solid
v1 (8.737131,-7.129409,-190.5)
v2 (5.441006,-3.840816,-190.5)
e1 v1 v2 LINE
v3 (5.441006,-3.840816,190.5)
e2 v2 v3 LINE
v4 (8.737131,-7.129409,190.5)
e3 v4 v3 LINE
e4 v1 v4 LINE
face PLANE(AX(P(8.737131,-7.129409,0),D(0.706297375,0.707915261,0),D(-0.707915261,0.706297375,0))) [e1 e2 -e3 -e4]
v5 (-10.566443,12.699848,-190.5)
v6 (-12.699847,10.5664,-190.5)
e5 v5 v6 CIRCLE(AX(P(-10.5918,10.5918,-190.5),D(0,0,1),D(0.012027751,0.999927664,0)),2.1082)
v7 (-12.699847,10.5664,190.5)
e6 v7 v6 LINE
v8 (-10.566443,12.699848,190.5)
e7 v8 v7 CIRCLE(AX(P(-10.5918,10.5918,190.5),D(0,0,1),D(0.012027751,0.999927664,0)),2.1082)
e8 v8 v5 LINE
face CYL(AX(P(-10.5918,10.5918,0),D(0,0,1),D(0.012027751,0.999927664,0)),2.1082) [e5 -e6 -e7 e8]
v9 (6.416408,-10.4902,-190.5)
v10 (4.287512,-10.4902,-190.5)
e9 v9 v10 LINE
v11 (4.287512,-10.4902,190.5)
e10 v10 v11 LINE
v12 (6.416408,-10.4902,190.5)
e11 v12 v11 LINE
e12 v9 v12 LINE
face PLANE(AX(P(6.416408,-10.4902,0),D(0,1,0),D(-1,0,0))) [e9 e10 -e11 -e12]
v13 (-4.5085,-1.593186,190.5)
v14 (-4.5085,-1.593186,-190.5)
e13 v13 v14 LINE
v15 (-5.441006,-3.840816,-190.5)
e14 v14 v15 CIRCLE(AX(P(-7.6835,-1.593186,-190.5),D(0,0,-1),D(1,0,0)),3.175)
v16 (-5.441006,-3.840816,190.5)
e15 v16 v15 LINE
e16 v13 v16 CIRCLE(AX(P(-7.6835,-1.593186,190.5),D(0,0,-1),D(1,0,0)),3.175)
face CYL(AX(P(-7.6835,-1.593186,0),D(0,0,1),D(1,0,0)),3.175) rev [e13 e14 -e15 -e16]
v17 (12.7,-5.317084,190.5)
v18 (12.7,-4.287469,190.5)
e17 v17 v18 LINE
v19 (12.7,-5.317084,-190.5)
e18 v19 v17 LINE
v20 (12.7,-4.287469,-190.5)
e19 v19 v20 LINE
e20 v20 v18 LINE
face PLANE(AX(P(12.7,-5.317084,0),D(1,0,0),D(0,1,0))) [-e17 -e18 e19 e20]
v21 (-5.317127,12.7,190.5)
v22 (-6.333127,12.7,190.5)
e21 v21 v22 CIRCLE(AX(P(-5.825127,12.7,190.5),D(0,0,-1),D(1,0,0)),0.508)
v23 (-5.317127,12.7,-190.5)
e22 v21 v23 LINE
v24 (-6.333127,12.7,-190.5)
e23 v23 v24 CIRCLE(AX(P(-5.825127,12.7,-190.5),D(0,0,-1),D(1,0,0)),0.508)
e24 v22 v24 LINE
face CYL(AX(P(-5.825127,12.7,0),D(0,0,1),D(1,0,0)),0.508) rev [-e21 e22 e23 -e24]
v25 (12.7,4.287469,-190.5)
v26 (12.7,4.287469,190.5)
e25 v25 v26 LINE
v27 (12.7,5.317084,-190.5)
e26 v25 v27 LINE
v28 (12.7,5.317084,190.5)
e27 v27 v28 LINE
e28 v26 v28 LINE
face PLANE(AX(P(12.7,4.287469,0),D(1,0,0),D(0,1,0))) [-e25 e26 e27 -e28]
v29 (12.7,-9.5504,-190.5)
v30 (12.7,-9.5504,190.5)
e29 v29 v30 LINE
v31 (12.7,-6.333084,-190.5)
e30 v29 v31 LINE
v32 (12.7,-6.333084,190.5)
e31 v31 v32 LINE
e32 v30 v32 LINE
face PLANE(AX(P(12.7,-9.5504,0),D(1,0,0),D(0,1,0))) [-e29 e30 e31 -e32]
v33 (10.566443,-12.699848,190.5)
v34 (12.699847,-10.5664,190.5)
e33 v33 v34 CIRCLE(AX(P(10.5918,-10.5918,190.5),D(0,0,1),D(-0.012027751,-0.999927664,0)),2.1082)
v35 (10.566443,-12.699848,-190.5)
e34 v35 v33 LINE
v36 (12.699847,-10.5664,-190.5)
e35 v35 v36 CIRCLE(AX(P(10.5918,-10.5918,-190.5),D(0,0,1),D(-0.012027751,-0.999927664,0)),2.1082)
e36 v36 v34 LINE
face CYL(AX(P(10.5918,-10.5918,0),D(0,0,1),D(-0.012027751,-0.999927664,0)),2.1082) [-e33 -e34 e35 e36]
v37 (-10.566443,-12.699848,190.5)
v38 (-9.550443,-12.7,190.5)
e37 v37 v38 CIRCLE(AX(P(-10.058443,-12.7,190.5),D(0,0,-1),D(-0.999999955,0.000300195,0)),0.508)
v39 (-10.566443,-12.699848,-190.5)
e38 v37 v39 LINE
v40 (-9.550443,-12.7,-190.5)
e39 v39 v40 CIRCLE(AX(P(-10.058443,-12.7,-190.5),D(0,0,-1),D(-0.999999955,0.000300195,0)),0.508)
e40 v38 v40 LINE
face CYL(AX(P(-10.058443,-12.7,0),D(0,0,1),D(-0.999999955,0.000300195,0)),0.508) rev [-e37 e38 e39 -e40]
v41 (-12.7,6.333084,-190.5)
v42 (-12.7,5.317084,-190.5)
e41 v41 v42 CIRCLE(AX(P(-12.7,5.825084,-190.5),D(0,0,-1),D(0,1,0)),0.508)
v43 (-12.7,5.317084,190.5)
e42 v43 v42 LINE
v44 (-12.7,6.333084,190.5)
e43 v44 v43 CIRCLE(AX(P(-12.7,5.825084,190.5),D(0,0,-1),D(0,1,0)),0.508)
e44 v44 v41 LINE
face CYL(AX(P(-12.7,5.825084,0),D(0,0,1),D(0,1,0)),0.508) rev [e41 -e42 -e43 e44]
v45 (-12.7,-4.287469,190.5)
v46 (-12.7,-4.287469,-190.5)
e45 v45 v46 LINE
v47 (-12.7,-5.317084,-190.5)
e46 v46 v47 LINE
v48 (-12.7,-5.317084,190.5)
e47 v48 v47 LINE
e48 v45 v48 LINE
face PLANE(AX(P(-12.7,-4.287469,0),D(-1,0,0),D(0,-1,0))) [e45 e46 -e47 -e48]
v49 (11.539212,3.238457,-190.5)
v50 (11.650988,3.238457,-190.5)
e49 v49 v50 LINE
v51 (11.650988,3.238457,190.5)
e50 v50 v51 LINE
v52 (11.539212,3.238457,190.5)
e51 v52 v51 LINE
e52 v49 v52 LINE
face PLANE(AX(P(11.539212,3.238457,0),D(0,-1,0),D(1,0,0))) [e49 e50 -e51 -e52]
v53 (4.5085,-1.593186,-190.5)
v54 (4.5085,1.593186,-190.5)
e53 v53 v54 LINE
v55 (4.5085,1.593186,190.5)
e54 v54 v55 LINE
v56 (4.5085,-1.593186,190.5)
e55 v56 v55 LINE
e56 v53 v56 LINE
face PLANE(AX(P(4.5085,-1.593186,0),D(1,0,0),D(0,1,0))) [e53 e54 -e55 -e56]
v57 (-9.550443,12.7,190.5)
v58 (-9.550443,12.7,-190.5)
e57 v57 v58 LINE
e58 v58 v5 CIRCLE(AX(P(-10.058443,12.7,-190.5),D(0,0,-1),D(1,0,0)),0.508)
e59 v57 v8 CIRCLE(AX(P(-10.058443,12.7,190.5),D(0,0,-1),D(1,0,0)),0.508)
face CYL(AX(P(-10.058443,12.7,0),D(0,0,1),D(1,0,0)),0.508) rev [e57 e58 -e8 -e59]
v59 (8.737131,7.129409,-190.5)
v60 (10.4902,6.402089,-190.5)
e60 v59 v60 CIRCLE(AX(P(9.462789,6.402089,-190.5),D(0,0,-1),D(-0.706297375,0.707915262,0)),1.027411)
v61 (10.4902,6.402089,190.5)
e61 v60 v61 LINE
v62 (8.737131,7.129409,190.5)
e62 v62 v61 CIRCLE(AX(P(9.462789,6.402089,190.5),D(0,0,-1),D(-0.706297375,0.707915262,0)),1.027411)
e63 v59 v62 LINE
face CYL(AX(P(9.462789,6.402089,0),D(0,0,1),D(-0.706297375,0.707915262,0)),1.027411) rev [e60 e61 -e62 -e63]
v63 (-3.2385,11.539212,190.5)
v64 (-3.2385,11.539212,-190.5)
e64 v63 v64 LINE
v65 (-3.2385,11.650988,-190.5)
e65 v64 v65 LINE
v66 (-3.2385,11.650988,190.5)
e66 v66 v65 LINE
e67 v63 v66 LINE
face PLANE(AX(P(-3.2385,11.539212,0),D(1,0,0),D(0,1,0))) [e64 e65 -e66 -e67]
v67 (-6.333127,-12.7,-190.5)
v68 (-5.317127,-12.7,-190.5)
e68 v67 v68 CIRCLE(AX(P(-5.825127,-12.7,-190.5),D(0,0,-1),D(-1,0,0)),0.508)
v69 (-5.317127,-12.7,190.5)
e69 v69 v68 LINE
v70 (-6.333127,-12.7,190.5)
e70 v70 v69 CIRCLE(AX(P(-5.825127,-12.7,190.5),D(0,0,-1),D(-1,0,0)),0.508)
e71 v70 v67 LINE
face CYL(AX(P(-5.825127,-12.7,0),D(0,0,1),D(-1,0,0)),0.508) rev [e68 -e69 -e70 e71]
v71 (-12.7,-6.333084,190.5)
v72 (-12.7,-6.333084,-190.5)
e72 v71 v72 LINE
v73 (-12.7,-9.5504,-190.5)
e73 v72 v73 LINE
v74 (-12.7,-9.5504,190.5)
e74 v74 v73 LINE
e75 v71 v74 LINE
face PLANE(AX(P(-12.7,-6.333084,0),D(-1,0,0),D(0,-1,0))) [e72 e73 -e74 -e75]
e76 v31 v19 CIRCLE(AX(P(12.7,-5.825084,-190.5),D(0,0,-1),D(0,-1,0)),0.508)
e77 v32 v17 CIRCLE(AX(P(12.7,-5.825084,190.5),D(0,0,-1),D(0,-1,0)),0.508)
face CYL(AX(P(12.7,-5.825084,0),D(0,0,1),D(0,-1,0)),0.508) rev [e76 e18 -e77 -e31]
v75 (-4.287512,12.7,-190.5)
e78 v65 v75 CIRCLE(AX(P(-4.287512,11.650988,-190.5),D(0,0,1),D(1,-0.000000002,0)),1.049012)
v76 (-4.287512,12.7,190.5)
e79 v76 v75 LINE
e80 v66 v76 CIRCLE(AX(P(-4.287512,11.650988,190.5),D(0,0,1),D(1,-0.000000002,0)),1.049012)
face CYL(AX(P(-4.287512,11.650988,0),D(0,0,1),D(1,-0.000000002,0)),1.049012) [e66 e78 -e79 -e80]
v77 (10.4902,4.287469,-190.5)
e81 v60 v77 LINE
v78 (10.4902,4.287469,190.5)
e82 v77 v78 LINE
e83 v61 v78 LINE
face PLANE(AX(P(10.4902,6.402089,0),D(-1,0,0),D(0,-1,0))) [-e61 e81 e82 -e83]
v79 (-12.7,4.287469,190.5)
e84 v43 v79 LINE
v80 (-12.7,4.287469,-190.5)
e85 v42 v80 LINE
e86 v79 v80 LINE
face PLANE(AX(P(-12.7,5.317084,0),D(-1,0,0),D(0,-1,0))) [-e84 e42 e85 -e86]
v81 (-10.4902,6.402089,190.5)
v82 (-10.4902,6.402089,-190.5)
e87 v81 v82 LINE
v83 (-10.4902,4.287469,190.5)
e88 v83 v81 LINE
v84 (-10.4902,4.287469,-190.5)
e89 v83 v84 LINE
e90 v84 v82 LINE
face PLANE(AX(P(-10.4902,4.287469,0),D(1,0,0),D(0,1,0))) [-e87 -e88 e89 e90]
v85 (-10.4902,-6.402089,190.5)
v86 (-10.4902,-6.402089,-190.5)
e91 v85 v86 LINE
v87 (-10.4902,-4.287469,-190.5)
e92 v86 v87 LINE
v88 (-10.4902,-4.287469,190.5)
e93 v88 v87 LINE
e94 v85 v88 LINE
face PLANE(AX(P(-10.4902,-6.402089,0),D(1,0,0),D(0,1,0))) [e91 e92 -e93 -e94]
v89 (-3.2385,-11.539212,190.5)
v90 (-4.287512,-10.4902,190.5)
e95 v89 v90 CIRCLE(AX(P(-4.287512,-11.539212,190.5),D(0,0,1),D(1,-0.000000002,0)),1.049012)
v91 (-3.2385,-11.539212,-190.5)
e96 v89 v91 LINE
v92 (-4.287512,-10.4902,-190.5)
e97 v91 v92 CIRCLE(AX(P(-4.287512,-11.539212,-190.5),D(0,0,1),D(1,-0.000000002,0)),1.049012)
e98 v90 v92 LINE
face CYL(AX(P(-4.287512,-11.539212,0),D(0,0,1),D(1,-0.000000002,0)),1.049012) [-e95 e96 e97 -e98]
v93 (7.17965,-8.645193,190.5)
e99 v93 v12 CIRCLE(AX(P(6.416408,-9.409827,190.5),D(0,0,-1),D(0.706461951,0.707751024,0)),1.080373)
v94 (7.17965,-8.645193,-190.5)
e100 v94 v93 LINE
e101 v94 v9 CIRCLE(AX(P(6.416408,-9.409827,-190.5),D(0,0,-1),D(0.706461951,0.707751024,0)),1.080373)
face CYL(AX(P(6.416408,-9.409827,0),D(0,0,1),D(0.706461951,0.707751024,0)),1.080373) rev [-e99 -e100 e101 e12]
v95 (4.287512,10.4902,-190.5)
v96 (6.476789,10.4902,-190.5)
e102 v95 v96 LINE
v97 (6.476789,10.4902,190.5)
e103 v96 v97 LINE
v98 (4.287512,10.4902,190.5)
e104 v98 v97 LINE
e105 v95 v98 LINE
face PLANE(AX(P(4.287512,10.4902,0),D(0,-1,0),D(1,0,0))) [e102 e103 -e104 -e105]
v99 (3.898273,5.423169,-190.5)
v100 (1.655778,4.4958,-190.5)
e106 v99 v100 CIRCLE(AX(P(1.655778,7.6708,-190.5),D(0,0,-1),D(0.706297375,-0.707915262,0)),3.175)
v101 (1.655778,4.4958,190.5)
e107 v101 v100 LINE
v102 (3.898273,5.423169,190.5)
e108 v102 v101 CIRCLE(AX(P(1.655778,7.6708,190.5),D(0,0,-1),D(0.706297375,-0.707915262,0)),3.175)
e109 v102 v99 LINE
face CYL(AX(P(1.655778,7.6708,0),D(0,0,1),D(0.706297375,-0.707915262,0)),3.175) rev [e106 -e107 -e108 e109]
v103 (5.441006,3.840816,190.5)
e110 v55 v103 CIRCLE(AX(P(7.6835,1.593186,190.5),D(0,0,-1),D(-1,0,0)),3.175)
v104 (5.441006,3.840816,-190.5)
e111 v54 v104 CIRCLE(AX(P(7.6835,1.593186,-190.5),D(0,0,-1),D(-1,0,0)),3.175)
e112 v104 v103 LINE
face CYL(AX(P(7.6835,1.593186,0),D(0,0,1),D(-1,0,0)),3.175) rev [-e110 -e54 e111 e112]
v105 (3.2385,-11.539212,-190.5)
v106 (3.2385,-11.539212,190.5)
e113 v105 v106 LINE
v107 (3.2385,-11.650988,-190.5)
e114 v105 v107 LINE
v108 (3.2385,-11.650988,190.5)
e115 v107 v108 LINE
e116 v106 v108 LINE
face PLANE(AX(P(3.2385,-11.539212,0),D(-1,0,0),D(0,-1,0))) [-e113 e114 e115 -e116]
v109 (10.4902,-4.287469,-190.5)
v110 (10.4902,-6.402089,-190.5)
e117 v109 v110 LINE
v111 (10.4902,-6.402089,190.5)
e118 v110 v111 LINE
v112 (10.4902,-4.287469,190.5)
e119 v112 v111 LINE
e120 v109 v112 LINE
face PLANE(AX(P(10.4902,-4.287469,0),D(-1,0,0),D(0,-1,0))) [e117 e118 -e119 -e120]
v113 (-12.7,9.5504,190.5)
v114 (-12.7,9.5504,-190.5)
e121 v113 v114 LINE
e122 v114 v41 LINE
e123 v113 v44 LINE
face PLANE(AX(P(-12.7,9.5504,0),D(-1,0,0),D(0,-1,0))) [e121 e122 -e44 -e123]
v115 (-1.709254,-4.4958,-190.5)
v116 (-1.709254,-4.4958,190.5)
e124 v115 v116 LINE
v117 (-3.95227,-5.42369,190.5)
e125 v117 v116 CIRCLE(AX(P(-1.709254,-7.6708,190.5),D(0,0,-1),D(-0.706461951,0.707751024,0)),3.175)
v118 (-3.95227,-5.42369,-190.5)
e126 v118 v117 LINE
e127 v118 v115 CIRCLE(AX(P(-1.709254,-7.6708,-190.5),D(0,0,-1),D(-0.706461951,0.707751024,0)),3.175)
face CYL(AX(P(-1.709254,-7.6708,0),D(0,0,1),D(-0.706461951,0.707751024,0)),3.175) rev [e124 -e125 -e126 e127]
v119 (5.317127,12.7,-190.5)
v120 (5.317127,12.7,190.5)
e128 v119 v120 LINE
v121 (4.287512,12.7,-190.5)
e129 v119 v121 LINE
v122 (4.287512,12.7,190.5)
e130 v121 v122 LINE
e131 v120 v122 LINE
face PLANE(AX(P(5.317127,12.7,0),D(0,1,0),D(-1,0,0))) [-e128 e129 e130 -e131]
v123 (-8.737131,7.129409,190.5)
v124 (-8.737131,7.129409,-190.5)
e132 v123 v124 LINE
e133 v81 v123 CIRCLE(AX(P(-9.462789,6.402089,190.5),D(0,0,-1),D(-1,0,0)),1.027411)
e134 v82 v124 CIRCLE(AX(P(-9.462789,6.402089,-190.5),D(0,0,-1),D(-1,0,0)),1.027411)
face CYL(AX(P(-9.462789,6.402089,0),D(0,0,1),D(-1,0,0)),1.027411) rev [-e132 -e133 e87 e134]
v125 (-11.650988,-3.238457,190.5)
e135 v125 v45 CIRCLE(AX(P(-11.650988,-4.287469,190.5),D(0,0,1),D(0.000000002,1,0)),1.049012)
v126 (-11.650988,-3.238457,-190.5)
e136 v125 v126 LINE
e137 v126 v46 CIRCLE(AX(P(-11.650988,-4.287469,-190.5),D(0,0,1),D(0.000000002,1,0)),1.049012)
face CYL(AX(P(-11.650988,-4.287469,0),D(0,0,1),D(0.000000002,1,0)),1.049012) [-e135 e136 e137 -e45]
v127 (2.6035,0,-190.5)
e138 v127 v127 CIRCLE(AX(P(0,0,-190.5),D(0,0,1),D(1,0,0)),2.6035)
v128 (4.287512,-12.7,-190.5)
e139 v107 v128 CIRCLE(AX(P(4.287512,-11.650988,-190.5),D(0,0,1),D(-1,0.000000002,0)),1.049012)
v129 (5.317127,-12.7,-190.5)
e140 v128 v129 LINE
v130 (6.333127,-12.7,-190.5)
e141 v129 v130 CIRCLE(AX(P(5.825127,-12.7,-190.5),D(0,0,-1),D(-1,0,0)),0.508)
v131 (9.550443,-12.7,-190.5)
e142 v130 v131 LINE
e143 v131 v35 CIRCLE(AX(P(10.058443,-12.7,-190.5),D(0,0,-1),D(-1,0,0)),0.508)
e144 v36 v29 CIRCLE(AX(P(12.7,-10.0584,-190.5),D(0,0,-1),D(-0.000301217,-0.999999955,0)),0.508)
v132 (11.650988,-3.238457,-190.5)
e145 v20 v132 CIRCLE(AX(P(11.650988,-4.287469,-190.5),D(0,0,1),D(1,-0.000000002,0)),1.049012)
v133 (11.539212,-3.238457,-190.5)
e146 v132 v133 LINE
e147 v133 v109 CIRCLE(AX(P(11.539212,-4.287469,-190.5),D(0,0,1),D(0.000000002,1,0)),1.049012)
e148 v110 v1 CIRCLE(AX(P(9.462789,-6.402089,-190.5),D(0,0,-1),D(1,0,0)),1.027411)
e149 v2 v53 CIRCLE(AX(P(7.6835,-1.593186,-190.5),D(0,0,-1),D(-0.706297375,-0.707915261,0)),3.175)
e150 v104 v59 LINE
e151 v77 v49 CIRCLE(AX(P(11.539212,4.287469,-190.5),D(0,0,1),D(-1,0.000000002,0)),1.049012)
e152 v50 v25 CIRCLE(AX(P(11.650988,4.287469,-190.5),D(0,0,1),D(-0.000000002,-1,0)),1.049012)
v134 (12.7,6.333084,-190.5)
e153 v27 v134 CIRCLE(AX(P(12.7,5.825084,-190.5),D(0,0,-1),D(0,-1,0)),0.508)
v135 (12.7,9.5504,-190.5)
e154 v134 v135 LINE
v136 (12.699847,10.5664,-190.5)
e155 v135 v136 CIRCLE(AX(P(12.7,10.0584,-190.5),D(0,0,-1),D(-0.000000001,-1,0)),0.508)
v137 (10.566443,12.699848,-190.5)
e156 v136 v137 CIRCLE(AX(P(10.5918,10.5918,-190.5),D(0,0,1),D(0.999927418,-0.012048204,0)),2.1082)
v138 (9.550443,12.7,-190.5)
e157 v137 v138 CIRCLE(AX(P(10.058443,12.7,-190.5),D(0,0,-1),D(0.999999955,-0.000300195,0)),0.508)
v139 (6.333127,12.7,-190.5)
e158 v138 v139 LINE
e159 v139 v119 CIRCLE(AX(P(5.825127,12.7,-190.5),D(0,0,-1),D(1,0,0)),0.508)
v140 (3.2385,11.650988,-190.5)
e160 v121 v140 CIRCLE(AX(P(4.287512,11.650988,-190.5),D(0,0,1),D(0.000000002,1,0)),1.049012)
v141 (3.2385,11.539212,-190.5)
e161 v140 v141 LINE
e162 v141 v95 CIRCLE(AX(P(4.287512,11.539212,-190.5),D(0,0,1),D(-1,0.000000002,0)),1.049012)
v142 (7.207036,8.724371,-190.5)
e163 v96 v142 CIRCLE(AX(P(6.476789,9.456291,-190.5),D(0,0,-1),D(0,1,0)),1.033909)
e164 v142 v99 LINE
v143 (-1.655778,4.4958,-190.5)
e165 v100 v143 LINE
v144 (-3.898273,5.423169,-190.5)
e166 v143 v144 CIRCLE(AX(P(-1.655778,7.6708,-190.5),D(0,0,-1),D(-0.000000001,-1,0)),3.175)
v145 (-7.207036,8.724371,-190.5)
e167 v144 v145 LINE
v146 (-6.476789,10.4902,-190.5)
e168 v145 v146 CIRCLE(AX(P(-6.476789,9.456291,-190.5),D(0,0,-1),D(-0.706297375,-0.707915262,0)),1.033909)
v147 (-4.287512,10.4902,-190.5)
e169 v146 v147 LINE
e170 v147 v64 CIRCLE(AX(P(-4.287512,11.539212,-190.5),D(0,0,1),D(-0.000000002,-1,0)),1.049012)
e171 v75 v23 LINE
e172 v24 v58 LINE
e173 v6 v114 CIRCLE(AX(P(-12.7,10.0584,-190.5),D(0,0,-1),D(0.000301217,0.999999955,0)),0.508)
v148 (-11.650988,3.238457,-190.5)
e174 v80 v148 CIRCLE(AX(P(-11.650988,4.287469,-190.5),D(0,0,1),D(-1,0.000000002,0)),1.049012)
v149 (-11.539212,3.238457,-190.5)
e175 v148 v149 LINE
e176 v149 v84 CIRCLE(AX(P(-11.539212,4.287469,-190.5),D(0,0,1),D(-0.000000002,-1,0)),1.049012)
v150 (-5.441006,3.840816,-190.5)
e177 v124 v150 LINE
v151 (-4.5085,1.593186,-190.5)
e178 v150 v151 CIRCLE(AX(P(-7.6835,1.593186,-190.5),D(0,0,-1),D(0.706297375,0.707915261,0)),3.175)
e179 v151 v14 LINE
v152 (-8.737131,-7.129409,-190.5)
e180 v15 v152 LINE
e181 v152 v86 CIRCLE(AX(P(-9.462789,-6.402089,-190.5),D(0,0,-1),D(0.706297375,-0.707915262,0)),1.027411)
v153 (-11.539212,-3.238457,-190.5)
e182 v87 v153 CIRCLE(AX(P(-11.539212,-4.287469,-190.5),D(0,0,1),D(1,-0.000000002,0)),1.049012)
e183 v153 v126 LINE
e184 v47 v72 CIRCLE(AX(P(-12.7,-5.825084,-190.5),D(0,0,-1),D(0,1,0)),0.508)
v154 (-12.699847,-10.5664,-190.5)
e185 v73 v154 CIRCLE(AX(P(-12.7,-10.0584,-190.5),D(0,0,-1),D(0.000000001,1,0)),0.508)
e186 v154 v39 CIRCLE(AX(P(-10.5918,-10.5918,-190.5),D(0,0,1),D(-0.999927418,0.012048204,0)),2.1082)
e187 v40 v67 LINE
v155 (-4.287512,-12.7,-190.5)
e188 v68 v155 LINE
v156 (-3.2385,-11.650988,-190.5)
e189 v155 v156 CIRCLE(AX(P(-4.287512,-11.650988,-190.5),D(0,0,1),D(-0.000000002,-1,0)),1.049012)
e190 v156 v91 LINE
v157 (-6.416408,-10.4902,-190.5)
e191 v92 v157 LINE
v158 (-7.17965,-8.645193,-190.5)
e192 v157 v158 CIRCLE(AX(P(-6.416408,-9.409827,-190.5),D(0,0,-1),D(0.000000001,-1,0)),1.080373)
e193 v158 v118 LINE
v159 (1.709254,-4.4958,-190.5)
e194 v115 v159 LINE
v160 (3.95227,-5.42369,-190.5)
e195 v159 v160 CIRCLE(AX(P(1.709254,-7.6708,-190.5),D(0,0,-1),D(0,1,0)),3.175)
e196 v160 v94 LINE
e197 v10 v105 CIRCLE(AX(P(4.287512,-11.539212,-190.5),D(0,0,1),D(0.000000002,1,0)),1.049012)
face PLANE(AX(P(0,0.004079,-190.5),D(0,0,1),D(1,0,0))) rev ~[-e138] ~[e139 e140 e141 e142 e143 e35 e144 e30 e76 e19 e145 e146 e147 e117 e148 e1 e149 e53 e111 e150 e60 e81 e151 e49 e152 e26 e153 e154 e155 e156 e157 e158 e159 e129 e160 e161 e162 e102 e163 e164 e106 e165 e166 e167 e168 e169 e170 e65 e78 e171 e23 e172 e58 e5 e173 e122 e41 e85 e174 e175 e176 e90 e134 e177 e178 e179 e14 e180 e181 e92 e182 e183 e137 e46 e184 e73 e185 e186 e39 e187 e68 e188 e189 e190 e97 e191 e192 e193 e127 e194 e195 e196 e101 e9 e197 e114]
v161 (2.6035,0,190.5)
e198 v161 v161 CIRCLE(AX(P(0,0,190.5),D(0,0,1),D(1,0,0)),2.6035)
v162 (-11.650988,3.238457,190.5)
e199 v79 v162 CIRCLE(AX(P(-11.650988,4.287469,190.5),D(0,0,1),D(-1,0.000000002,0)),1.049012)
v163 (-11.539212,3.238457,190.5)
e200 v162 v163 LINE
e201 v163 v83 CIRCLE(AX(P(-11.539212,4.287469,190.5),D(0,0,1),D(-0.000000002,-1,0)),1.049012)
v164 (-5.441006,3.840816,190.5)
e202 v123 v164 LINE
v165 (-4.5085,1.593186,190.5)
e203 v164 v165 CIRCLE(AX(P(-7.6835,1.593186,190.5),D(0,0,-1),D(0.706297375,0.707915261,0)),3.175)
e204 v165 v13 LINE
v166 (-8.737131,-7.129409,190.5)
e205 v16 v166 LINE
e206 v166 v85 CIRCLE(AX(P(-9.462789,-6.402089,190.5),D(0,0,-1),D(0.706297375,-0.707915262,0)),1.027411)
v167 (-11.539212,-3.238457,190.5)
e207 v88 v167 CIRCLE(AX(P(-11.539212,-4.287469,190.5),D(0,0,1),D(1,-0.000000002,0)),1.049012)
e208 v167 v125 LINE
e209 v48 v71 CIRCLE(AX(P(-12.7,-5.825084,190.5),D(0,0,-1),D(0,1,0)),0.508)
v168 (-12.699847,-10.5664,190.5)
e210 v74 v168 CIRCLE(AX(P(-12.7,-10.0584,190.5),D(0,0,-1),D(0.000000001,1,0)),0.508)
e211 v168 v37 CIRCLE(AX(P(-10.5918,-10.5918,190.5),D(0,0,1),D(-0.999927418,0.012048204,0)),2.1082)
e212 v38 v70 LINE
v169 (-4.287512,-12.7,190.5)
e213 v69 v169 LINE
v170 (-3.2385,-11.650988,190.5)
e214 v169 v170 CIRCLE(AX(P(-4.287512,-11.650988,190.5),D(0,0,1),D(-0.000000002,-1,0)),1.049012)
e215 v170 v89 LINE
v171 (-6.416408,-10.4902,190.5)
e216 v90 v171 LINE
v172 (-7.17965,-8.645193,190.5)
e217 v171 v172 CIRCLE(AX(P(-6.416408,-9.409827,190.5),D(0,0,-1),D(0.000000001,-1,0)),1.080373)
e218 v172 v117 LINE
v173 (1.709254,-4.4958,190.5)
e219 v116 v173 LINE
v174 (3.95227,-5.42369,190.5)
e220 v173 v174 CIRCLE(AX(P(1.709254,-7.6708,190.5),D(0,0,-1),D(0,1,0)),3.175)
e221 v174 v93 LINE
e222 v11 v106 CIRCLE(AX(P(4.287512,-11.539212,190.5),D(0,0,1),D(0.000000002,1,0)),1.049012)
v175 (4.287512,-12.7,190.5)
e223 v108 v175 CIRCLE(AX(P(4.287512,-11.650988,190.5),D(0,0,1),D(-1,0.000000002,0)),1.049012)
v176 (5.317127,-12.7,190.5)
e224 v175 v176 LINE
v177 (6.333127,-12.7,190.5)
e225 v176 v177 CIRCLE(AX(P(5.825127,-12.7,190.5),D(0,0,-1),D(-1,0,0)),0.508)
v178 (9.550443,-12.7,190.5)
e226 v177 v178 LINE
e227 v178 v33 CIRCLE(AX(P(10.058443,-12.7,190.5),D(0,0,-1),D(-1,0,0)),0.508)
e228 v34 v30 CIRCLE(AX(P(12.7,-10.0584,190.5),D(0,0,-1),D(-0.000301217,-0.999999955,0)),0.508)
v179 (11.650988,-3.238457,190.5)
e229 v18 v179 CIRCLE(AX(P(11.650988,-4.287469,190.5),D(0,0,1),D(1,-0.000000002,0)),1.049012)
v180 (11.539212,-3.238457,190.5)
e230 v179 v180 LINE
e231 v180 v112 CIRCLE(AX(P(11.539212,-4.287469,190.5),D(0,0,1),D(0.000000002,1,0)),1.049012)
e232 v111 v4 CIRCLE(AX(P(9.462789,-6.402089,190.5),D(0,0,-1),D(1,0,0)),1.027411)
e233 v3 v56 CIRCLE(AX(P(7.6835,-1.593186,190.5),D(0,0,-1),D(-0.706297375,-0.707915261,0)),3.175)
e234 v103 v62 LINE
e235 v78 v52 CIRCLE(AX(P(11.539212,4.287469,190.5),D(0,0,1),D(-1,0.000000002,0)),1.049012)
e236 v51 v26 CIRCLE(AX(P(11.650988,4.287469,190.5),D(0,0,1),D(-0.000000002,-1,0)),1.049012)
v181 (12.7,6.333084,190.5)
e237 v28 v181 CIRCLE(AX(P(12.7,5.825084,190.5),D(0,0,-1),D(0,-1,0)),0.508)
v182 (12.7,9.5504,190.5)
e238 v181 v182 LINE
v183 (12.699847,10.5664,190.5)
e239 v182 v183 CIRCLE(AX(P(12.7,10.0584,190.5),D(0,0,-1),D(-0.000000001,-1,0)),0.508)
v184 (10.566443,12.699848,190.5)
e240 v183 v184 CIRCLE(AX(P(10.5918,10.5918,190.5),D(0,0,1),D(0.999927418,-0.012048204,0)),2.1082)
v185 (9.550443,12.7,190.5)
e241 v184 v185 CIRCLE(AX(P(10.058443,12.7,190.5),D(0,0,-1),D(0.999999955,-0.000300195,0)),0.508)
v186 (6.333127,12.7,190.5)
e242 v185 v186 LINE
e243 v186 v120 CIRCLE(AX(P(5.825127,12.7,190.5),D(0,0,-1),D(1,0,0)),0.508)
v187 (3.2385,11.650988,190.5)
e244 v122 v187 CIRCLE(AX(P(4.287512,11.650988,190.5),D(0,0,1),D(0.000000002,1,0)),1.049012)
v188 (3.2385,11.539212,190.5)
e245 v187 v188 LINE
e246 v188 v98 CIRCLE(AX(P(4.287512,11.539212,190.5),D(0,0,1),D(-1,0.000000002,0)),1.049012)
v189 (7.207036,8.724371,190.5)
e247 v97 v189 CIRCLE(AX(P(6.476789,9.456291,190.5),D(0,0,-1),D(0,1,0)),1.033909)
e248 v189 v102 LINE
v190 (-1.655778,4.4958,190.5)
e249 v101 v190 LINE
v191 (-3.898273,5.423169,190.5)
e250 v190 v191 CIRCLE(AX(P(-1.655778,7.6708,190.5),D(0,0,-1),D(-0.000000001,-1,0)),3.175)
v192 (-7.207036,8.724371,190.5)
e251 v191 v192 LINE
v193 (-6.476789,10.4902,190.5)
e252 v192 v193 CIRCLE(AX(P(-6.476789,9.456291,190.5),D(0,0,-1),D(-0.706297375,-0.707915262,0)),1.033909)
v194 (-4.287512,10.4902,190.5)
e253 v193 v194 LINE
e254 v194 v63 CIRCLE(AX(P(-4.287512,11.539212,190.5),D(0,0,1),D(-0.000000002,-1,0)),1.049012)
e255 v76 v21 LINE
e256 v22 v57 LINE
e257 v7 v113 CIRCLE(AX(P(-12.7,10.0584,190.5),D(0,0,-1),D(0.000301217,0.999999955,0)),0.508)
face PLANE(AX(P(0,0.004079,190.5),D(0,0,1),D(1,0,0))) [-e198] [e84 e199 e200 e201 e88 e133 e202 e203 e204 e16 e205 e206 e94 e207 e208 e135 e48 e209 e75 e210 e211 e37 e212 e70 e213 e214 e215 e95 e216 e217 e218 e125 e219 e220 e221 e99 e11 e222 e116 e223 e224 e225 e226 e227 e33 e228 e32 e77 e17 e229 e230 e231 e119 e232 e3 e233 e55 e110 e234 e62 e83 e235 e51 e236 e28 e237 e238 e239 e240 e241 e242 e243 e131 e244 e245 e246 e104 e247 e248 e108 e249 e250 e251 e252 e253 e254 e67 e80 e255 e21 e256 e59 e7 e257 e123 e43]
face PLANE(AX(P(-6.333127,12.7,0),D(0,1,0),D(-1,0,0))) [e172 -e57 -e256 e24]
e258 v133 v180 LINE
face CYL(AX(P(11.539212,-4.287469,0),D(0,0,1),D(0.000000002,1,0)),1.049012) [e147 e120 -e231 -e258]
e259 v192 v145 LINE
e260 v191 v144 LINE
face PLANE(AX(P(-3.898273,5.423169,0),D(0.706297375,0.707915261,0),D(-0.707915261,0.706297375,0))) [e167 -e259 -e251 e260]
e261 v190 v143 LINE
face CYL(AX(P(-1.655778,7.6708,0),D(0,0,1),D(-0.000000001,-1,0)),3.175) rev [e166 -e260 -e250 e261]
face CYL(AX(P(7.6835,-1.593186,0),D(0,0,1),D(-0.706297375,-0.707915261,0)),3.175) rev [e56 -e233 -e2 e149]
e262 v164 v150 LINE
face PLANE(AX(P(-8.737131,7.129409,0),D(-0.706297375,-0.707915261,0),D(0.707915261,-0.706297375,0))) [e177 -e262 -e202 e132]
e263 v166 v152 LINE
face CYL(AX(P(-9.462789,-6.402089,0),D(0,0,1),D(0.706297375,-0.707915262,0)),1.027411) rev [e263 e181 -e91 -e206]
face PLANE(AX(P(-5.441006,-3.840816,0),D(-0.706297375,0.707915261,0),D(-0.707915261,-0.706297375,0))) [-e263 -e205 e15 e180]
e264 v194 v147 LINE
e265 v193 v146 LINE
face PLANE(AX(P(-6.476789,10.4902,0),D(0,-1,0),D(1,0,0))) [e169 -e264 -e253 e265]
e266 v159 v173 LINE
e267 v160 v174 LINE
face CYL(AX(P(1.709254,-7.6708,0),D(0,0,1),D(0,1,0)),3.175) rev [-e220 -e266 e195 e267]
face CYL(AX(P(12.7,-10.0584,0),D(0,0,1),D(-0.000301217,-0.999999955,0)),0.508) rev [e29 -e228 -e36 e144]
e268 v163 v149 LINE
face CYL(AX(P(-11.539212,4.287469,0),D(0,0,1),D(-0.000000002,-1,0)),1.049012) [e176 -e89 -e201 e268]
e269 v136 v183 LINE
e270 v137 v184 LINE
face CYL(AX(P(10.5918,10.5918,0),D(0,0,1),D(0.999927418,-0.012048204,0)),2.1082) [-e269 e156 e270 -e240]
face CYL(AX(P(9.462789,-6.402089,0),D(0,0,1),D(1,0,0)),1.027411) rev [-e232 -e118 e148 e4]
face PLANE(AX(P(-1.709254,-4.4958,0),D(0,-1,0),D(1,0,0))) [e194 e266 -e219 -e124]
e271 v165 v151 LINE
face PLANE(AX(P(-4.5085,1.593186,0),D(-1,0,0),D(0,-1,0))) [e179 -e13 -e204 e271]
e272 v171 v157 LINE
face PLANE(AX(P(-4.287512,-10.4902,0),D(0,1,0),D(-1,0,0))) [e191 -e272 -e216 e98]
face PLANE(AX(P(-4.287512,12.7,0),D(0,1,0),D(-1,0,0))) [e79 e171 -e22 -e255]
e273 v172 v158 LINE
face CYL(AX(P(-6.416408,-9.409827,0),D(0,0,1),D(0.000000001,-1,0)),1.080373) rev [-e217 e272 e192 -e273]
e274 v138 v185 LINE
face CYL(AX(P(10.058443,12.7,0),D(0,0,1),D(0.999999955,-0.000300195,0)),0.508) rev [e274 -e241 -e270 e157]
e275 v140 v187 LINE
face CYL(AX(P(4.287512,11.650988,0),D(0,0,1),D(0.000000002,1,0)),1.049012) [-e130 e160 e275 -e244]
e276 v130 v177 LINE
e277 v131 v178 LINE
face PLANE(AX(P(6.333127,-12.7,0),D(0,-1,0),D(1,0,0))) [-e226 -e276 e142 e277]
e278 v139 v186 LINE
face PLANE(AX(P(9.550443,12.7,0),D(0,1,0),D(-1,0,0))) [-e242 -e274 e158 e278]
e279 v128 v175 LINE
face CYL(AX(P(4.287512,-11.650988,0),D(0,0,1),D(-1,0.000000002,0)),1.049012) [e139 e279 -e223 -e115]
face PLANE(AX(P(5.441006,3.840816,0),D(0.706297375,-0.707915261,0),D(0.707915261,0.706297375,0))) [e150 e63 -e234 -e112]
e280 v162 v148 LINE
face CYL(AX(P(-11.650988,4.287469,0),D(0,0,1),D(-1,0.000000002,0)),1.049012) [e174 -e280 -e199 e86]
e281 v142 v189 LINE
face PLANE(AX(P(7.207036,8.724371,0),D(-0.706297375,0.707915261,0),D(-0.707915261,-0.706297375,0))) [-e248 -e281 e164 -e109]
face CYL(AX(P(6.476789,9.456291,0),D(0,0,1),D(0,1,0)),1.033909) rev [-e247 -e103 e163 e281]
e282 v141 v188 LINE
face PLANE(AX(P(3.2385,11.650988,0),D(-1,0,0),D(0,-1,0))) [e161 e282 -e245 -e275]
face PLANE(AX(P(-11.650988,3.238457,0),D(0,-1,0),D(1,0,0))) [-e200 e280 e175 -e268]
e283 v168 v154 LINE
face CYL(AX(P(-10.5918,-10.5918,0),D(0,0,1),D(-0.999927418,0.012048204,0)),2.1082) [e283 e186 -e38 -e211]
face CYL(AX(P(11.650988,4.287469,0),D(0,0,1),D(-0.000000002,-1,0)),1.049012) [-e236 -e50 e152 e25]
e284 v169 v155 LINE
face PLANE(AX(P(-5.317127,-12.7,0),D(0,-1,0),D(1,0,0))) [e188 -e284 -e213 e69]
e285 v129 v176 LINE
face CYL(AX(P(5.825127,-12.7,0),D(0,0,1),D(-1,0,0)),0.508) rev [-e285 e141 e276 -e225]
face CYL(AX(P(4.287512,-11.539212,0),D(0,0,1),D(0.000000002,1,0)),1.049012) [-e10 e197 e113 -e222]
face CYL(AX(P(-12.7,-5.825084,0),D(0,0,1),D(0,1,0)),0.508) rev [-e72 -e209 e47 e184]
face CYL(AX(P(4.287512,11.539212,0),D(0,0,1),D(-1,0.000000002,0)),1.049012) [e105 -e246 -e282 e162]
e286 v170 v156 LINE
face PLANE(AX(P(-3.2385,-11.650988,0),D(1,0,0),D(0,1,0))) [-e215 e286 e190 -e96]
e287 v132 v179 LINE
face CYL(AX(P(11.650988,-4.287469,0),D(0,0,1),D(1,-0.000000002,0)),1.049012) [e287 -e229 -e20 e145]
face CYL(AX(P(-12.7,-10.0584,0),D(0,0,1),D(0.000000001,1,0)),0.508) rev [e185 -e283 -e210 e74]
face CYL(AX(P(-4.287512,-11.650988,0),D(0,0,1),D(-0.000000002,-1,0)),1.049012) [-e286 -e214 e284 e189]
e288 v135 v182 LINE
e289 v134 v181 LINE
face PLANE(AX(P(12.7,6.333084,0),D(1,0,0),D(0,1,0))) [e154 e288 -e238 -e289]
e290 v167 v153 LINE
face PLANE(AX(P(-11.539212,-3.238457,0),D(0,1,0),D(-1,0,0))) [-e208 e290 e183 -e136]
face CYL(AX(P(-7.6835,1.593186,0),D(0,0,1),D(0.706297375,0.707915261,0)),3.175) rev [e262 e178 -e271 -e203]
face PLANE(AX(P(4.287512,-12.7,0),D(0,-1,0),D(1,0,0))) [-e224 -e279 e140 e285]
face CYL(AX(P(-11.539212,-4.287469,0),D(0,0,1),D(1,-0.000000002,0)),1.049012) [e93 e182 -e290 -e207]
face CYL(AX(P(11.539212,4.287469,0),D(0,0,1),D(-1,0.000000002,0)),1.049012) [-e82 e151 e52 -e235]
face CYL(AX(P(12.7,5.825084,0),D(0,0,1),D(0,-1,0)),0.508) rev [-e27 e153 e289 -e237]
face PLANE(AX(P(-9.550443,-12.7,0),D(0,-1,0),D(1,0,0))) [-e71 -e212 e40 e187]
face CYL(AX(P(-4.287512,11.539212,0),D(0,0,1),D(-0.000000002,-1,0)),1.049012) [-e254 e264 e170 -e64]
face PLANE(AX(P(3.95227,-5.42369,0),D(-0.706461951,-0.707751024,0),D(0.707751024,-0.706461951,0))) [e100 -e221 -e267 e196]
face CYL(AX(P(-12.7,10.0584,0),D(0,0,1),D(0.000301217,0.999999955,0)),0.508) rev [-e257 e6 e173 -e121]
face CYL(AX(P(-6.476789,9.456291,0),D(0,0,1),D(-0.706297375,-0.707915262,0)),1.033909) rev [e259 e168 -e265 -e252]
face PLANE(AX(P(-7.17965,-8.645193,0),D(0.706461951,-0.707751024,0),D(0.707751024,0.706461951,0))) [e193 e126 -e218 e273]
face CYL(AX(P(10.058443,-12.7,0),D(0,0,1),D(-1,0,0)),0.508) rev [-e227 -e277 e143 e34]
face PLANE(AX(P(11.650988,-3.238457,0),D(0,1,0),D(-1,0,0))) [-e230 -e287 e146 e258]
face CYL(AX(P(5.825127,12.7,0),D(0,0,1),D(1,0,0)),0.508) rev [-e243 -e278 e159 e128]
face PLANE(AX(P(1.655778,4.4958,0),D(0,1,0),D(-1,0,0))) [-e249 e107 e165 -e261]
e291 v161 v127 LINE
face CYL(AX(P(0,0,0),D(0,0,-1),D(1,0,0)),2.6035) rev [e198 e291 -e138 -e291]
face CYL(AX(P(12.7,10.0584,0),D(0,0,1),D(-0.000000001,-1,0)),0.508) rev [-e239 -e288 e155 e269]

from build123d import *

# Parameters (mm, degrees)
SKETCH1_R           = 2.6035
BOSS_EXTRUDE1_DEPTH = 190.5


with BuildPart() as part:
    # Sketch1 → Boss-Extrude1 (new body, symmetric)
    with BuildSketch(Plane.XY):
        with BuildLine():
            Line((-7.179650497, -8.645192506), (-3.952270251, -5.423690499))
            ThreePointArc((-3.952270251, -5.423690499), (-2.922936451, -4.736929036), (-1.709253557, -4.4958))
            Line((-1.709253557, -4.4958), (1.709253557, -4.4958))
            ThreePointArc((1.709253557, -4.4958), (2.922936451, -4.736929036), (3.952270251, -5.423690499))
            Line((3.952270251, -5.423690499), (7.179650497, -8.645192506))
            ThreePointArc((7.179650497, -8.645192506), (7.41473083, -9.822813117), (6.416408329, -10.4902))
            Line((6.416408329, -10.4902), (4.287512407, -10.4902))
            ThreePointArc((4.287512407, -10.4902), (3.54574862, -10.79744862), (3.2385, -11.539212407))
            Line((3.2385, -11.539212407), (3.2385, -11.650987593))
            ThreePointArc((3.2385, -11.650987593), (3.54574862, -12.39275138), (4.287512407, -12.7))
            Line((4.287512407, -12.7), (5.317126718, -12.7))
            ThreePointArc((5.317126718, -12.7), (5.825126718, -12.192), (6.333126718, -12.7))
            Line((6.333126718, -12.7), (9.550443118, -12.7))
            ThreePointArc((9.550443118, -12.7), (10.058366869, -12.192000006), (10.566443095, -12.699847501))
            ThreePointArc((10.566443095, -12.699847501), (12.082537762, -12.08250727), (12.699846982, -10.566399977))
            ThreePointArc((12.699846982, -10.566399977), (12.192000006, -10.058323491), (12.7, -9.5504))
            Line((12.7, -9.5504), (12.7, -6.3330836))
            ThreePointArc((12.7, -6.3330836), (12.192, -5.8250836), (12.7, -5.3170836))
            Line((12.7, -5.3170836), (12.7, -4.287469289))
            ThreePointArc((12.7, -4.287469289), (12.39275138, -3.545705502), (11.650987593, -3.238456882))
            Line((11.650987593, -3.238456882), (11.539212407, -3.238456882))
            ThreePointArc((11.539212407, -3.238456882), (10.79744862, -3.545705502), (10.4902, -4.287469289))
            Line((10.4902, -4.287469289), (10.4902, -6.402089023))
            ThreePointArc((10.4902, -6.402089023), (9.856505071, -7.351067942), (8.737131347, -7.129408934))
            Line((8.737131347, -7.129408934), (5.441005833, -3.840816462))
            ThreePointArc((5.441005833, -3.840816462), (4.750877967, -2.809883091), (4.5085, -1.593185507))
            Line((4.5085, -1.593185507), (4.5085, 1.593185507))
            ThreePointArc((4.5085, 1.593185507), (4.750877967, 2.809883091), (5.441005833, 3.840816462))
            Line((5.441005833, 3.840816462), (8.737131347, 7.129408934))
            ThreePointArc((8.737131347, 7.129408934), (9.856505071, 7.351067942), (10.4902, 6.402089023))
            Line((10.4902, 6.402089023), (10.4902, 4.287469289))
            ThreePointArc((10.4902, 4.287469289), (10.79744862, 3.545705502), (11.539212407, 3.238456882))
            Line((11.539212407, 3.238456882), (11.650987593, 3.238456882))
            ThreePointArc((11.650987593, 3.238456882), (12.39275138, 3.545705502), (12.7, 4.287469289))
            Line((12.7, 4.287469289), (12.7, 5.3170836))
            ThreePointArc((12.7, 5.3170836), (12.192, 5.8250836), (12.7, 6.3330836))
            Line((12.7, 6.3330836), (12.7, 9.5504))
            ThreePointArc((12.7, 9.5504), (12.192000006, 10.058323491), (12.699846982, 10.566399977))
            ThreePointArc((12.699846982, 10.566399977), (12.082537762, 12.08250727), (10.566443095, 12.699847501))
            ThreePointArc((10.566443095, 12.699847501), (10.058366869, 12.192000006), (9.550443118, 12.7))
            Line((9.550443118, 12.7), (6.333126718, 12.7))
            ThreePointArc((6.333126718, 12.7), (5.825126718, 12.192), (5.317126718, 12.7))
            Line((5.317126718, 12.7), (4.287512407, 12.7))
            ThreePointArc((4.287512407, 12.7), (3.54574862, 12.39275138), (3.2385, 11.650987593))
            Line((3.2385, 11.650987593), (3.2385, 11.539212407))
            ThreePointArc((3.2385, 11.539212407), (3.54574862, 10.79744862), (4.287512407, 10.4902))
            Line((4.287512407, 10.4902), (6.476788598, 10.4902))
            ThreePointArc((6.476788598, 10.4902), (7.432222385, 9.85140422), (7.207036008, 8.724370562))
            Line((7.207036008, 8.724370562), (3.898272566, 5.423169045))
            ThreePointArc((3.898272566, 5.423169045), (2.869120213, 4.736787962), (1.655778399, 4.4958))
            Line((1.655778399, 4.4958), (-1.655778399, 4.4958))
            ThreePointArc((-1.655778399, 4.4958), (-2.869120213, 4.736787962), (-3.898272566, 5.423169045))
            Line((-3.898272566, 5.423169045), (-7.207036008, 8.724370562))
            ThreePointArc((-7.207036008, 8.724370562), (-7.432222385, 9.85140422), (-6.476788598, 10.4902))
            Line((-6.476788598, 10.4902), (-4.287512407, 10.4902))
            ThreePointArc((-4.287512407, 10.4902), (-3.54574862, 10.79744862), (-3.2385, 11.539212407))
            Line((-3.2385, 11.539212407), (-3.2385, 11.650987593))
            ThreePointArc((-3.2385, 11.650987593), (-3.54574862, 12.39275138), (-4.287512407, 12.7))
            Line((-4.287512407, 12.7), (-5.317126718, 12.7))
            ThreePointArc((-5.317126718, 12.7), (-5.825126718, 12.192), (-6.333126718, 12.7))
            Line((-6.333126718, 12.7), (-9.550443118, 12.7))
            ThreePointArc((-9.550443118, 12.7), (-10.058366869, 12.192000006), (-10.566443095, 12.699847501))
            ThreePointArc((-10.566443095, 12.699847501), (-12.082537762, 12.08250727), (-12.699846982, 10.566399977))
            ThreePointArc((-12.699846982, 10.566399977), (-12.192000006, 10.058323491), (-12.7, 9.5504))
            Line((-12.7, 9.5504), (-12.7, 6.3330836))
            ThreePointArc((-12.7, 6.3330836), (-12.192, 5.8250836), (-12.7, 5.3170836))
            Line((-12.7, 5.3170836), (-12.7, 4.287469289))
            ThreePointArc((-12.7, 4.287469289), (-12.39275138, 3.545705502), (-11.650987593, 3.238456882))
            Line((-11.650987593, 3.238456882), (-11.539212407, 3.238456882))
            ThreePointArc((-11.539212407, 3.238456882), (-10.79744862, 3.545705502), (-10.4902, 4.287469289))
            Line((-10.4902, 4.287469289), (-10.4902, 6.402089023))
            ThreePointArc((-10.4902, 6.402089023), (-9.856505071, 7.351067942), (-8.737131347, 7.129408934))
            Line((-8.737131347, 7.129408934), (-5.441005833, 3.840816462))
            ThreePointArc((-5.441005833, 3.840816462), (-4.750877967, 2.809883091), (-4.5085, 1.593185507))
            Line((-4.5085, 1.593185507), (-4.5085, -1.593185507))
            ThreePointArc((-4.5085, -1.593185507), (-4.750877967, -2.809883091), (-5.441005833, -3.840816462))
            Line((-5.441005833, -3.840816462), (-8.737131347, -7.129408934))
            ThreePointArc((-8.737131347, -7.129408934), (-9.856505071, -7.351067942), (-10.4902, -6.402089023))
            Line((-10.4902, -6.402089023), (-10.4902, -4.287469289))
            ThreePointArc((-10.4902, -4.287469289), (-10.79744862, -3.545705502), (-11.539212407, -3.238456882))
            Line((-11.539212407, -3.238456882), (-11.650987593, -3.238456882))
            ThreePointArc((-11.650987593, -3.238456882), (-12.39275138, -3.545705502), (-12.7, -4.287469289))
            Line((-12.7, -4.287469289), (-12.7, -5.3170836))
            ThreePointArc((-12.7, -5.3170836), (-12.192, -5.8250836), (-12.7, -6.3330836))
            Line((-12.7, -6.3330836), (-12.7, -9.5504))
            ThreePointArc((-12.7, -9.5504), (-12.192000006, -10.058323491), (-12.699846982, -10.566399977))
            ThreePointArc((-12.699846982, -10.566399977), (-12.082537762, -12.08250727), (-10.566443095, -12.699847501))
            ThreePointArc((-10.566443095, -12.699847501), (-10.058366869, -12.192000006), (-9.550443118, -12.7))
            Line((-9.550443118, -12.7), (-6.333126718, -12.7))
            ThreePointArc((-6.333126718, -12.7), (-5.825126718, -12.192), (-5.317126718, -12.7))
            Line((-5.317126718, -12.7), (-4.287512407, -12.7))
            ThreePointArc((-4.287512407, -12.7), (-3.54574862, -12.39275138), (-3.2385, -11.650987593))
            Line((-3.2385, -11.650987593), (-3.2385, -11.539212407))
            ThreePointArc((-3.2385, -11.539212407), (-3.54574862, -10.79744862), (-4.287512407, -10.4902))
            Line((-4.287512407, -10.4902), (-6.416408329, -10.4902))
            ThreePointArc((-6.416408329, -10.4902), (-7.41473083, -9.822813117), (-7.179650497, -8.645192506))
        make_face()
        Circle(SKETCH1_R, mode=Mode.SUBTRACT)
    extrude(amount=BOSS_EXTRUDE1_DEPTH, both=True)


solid = part.part
